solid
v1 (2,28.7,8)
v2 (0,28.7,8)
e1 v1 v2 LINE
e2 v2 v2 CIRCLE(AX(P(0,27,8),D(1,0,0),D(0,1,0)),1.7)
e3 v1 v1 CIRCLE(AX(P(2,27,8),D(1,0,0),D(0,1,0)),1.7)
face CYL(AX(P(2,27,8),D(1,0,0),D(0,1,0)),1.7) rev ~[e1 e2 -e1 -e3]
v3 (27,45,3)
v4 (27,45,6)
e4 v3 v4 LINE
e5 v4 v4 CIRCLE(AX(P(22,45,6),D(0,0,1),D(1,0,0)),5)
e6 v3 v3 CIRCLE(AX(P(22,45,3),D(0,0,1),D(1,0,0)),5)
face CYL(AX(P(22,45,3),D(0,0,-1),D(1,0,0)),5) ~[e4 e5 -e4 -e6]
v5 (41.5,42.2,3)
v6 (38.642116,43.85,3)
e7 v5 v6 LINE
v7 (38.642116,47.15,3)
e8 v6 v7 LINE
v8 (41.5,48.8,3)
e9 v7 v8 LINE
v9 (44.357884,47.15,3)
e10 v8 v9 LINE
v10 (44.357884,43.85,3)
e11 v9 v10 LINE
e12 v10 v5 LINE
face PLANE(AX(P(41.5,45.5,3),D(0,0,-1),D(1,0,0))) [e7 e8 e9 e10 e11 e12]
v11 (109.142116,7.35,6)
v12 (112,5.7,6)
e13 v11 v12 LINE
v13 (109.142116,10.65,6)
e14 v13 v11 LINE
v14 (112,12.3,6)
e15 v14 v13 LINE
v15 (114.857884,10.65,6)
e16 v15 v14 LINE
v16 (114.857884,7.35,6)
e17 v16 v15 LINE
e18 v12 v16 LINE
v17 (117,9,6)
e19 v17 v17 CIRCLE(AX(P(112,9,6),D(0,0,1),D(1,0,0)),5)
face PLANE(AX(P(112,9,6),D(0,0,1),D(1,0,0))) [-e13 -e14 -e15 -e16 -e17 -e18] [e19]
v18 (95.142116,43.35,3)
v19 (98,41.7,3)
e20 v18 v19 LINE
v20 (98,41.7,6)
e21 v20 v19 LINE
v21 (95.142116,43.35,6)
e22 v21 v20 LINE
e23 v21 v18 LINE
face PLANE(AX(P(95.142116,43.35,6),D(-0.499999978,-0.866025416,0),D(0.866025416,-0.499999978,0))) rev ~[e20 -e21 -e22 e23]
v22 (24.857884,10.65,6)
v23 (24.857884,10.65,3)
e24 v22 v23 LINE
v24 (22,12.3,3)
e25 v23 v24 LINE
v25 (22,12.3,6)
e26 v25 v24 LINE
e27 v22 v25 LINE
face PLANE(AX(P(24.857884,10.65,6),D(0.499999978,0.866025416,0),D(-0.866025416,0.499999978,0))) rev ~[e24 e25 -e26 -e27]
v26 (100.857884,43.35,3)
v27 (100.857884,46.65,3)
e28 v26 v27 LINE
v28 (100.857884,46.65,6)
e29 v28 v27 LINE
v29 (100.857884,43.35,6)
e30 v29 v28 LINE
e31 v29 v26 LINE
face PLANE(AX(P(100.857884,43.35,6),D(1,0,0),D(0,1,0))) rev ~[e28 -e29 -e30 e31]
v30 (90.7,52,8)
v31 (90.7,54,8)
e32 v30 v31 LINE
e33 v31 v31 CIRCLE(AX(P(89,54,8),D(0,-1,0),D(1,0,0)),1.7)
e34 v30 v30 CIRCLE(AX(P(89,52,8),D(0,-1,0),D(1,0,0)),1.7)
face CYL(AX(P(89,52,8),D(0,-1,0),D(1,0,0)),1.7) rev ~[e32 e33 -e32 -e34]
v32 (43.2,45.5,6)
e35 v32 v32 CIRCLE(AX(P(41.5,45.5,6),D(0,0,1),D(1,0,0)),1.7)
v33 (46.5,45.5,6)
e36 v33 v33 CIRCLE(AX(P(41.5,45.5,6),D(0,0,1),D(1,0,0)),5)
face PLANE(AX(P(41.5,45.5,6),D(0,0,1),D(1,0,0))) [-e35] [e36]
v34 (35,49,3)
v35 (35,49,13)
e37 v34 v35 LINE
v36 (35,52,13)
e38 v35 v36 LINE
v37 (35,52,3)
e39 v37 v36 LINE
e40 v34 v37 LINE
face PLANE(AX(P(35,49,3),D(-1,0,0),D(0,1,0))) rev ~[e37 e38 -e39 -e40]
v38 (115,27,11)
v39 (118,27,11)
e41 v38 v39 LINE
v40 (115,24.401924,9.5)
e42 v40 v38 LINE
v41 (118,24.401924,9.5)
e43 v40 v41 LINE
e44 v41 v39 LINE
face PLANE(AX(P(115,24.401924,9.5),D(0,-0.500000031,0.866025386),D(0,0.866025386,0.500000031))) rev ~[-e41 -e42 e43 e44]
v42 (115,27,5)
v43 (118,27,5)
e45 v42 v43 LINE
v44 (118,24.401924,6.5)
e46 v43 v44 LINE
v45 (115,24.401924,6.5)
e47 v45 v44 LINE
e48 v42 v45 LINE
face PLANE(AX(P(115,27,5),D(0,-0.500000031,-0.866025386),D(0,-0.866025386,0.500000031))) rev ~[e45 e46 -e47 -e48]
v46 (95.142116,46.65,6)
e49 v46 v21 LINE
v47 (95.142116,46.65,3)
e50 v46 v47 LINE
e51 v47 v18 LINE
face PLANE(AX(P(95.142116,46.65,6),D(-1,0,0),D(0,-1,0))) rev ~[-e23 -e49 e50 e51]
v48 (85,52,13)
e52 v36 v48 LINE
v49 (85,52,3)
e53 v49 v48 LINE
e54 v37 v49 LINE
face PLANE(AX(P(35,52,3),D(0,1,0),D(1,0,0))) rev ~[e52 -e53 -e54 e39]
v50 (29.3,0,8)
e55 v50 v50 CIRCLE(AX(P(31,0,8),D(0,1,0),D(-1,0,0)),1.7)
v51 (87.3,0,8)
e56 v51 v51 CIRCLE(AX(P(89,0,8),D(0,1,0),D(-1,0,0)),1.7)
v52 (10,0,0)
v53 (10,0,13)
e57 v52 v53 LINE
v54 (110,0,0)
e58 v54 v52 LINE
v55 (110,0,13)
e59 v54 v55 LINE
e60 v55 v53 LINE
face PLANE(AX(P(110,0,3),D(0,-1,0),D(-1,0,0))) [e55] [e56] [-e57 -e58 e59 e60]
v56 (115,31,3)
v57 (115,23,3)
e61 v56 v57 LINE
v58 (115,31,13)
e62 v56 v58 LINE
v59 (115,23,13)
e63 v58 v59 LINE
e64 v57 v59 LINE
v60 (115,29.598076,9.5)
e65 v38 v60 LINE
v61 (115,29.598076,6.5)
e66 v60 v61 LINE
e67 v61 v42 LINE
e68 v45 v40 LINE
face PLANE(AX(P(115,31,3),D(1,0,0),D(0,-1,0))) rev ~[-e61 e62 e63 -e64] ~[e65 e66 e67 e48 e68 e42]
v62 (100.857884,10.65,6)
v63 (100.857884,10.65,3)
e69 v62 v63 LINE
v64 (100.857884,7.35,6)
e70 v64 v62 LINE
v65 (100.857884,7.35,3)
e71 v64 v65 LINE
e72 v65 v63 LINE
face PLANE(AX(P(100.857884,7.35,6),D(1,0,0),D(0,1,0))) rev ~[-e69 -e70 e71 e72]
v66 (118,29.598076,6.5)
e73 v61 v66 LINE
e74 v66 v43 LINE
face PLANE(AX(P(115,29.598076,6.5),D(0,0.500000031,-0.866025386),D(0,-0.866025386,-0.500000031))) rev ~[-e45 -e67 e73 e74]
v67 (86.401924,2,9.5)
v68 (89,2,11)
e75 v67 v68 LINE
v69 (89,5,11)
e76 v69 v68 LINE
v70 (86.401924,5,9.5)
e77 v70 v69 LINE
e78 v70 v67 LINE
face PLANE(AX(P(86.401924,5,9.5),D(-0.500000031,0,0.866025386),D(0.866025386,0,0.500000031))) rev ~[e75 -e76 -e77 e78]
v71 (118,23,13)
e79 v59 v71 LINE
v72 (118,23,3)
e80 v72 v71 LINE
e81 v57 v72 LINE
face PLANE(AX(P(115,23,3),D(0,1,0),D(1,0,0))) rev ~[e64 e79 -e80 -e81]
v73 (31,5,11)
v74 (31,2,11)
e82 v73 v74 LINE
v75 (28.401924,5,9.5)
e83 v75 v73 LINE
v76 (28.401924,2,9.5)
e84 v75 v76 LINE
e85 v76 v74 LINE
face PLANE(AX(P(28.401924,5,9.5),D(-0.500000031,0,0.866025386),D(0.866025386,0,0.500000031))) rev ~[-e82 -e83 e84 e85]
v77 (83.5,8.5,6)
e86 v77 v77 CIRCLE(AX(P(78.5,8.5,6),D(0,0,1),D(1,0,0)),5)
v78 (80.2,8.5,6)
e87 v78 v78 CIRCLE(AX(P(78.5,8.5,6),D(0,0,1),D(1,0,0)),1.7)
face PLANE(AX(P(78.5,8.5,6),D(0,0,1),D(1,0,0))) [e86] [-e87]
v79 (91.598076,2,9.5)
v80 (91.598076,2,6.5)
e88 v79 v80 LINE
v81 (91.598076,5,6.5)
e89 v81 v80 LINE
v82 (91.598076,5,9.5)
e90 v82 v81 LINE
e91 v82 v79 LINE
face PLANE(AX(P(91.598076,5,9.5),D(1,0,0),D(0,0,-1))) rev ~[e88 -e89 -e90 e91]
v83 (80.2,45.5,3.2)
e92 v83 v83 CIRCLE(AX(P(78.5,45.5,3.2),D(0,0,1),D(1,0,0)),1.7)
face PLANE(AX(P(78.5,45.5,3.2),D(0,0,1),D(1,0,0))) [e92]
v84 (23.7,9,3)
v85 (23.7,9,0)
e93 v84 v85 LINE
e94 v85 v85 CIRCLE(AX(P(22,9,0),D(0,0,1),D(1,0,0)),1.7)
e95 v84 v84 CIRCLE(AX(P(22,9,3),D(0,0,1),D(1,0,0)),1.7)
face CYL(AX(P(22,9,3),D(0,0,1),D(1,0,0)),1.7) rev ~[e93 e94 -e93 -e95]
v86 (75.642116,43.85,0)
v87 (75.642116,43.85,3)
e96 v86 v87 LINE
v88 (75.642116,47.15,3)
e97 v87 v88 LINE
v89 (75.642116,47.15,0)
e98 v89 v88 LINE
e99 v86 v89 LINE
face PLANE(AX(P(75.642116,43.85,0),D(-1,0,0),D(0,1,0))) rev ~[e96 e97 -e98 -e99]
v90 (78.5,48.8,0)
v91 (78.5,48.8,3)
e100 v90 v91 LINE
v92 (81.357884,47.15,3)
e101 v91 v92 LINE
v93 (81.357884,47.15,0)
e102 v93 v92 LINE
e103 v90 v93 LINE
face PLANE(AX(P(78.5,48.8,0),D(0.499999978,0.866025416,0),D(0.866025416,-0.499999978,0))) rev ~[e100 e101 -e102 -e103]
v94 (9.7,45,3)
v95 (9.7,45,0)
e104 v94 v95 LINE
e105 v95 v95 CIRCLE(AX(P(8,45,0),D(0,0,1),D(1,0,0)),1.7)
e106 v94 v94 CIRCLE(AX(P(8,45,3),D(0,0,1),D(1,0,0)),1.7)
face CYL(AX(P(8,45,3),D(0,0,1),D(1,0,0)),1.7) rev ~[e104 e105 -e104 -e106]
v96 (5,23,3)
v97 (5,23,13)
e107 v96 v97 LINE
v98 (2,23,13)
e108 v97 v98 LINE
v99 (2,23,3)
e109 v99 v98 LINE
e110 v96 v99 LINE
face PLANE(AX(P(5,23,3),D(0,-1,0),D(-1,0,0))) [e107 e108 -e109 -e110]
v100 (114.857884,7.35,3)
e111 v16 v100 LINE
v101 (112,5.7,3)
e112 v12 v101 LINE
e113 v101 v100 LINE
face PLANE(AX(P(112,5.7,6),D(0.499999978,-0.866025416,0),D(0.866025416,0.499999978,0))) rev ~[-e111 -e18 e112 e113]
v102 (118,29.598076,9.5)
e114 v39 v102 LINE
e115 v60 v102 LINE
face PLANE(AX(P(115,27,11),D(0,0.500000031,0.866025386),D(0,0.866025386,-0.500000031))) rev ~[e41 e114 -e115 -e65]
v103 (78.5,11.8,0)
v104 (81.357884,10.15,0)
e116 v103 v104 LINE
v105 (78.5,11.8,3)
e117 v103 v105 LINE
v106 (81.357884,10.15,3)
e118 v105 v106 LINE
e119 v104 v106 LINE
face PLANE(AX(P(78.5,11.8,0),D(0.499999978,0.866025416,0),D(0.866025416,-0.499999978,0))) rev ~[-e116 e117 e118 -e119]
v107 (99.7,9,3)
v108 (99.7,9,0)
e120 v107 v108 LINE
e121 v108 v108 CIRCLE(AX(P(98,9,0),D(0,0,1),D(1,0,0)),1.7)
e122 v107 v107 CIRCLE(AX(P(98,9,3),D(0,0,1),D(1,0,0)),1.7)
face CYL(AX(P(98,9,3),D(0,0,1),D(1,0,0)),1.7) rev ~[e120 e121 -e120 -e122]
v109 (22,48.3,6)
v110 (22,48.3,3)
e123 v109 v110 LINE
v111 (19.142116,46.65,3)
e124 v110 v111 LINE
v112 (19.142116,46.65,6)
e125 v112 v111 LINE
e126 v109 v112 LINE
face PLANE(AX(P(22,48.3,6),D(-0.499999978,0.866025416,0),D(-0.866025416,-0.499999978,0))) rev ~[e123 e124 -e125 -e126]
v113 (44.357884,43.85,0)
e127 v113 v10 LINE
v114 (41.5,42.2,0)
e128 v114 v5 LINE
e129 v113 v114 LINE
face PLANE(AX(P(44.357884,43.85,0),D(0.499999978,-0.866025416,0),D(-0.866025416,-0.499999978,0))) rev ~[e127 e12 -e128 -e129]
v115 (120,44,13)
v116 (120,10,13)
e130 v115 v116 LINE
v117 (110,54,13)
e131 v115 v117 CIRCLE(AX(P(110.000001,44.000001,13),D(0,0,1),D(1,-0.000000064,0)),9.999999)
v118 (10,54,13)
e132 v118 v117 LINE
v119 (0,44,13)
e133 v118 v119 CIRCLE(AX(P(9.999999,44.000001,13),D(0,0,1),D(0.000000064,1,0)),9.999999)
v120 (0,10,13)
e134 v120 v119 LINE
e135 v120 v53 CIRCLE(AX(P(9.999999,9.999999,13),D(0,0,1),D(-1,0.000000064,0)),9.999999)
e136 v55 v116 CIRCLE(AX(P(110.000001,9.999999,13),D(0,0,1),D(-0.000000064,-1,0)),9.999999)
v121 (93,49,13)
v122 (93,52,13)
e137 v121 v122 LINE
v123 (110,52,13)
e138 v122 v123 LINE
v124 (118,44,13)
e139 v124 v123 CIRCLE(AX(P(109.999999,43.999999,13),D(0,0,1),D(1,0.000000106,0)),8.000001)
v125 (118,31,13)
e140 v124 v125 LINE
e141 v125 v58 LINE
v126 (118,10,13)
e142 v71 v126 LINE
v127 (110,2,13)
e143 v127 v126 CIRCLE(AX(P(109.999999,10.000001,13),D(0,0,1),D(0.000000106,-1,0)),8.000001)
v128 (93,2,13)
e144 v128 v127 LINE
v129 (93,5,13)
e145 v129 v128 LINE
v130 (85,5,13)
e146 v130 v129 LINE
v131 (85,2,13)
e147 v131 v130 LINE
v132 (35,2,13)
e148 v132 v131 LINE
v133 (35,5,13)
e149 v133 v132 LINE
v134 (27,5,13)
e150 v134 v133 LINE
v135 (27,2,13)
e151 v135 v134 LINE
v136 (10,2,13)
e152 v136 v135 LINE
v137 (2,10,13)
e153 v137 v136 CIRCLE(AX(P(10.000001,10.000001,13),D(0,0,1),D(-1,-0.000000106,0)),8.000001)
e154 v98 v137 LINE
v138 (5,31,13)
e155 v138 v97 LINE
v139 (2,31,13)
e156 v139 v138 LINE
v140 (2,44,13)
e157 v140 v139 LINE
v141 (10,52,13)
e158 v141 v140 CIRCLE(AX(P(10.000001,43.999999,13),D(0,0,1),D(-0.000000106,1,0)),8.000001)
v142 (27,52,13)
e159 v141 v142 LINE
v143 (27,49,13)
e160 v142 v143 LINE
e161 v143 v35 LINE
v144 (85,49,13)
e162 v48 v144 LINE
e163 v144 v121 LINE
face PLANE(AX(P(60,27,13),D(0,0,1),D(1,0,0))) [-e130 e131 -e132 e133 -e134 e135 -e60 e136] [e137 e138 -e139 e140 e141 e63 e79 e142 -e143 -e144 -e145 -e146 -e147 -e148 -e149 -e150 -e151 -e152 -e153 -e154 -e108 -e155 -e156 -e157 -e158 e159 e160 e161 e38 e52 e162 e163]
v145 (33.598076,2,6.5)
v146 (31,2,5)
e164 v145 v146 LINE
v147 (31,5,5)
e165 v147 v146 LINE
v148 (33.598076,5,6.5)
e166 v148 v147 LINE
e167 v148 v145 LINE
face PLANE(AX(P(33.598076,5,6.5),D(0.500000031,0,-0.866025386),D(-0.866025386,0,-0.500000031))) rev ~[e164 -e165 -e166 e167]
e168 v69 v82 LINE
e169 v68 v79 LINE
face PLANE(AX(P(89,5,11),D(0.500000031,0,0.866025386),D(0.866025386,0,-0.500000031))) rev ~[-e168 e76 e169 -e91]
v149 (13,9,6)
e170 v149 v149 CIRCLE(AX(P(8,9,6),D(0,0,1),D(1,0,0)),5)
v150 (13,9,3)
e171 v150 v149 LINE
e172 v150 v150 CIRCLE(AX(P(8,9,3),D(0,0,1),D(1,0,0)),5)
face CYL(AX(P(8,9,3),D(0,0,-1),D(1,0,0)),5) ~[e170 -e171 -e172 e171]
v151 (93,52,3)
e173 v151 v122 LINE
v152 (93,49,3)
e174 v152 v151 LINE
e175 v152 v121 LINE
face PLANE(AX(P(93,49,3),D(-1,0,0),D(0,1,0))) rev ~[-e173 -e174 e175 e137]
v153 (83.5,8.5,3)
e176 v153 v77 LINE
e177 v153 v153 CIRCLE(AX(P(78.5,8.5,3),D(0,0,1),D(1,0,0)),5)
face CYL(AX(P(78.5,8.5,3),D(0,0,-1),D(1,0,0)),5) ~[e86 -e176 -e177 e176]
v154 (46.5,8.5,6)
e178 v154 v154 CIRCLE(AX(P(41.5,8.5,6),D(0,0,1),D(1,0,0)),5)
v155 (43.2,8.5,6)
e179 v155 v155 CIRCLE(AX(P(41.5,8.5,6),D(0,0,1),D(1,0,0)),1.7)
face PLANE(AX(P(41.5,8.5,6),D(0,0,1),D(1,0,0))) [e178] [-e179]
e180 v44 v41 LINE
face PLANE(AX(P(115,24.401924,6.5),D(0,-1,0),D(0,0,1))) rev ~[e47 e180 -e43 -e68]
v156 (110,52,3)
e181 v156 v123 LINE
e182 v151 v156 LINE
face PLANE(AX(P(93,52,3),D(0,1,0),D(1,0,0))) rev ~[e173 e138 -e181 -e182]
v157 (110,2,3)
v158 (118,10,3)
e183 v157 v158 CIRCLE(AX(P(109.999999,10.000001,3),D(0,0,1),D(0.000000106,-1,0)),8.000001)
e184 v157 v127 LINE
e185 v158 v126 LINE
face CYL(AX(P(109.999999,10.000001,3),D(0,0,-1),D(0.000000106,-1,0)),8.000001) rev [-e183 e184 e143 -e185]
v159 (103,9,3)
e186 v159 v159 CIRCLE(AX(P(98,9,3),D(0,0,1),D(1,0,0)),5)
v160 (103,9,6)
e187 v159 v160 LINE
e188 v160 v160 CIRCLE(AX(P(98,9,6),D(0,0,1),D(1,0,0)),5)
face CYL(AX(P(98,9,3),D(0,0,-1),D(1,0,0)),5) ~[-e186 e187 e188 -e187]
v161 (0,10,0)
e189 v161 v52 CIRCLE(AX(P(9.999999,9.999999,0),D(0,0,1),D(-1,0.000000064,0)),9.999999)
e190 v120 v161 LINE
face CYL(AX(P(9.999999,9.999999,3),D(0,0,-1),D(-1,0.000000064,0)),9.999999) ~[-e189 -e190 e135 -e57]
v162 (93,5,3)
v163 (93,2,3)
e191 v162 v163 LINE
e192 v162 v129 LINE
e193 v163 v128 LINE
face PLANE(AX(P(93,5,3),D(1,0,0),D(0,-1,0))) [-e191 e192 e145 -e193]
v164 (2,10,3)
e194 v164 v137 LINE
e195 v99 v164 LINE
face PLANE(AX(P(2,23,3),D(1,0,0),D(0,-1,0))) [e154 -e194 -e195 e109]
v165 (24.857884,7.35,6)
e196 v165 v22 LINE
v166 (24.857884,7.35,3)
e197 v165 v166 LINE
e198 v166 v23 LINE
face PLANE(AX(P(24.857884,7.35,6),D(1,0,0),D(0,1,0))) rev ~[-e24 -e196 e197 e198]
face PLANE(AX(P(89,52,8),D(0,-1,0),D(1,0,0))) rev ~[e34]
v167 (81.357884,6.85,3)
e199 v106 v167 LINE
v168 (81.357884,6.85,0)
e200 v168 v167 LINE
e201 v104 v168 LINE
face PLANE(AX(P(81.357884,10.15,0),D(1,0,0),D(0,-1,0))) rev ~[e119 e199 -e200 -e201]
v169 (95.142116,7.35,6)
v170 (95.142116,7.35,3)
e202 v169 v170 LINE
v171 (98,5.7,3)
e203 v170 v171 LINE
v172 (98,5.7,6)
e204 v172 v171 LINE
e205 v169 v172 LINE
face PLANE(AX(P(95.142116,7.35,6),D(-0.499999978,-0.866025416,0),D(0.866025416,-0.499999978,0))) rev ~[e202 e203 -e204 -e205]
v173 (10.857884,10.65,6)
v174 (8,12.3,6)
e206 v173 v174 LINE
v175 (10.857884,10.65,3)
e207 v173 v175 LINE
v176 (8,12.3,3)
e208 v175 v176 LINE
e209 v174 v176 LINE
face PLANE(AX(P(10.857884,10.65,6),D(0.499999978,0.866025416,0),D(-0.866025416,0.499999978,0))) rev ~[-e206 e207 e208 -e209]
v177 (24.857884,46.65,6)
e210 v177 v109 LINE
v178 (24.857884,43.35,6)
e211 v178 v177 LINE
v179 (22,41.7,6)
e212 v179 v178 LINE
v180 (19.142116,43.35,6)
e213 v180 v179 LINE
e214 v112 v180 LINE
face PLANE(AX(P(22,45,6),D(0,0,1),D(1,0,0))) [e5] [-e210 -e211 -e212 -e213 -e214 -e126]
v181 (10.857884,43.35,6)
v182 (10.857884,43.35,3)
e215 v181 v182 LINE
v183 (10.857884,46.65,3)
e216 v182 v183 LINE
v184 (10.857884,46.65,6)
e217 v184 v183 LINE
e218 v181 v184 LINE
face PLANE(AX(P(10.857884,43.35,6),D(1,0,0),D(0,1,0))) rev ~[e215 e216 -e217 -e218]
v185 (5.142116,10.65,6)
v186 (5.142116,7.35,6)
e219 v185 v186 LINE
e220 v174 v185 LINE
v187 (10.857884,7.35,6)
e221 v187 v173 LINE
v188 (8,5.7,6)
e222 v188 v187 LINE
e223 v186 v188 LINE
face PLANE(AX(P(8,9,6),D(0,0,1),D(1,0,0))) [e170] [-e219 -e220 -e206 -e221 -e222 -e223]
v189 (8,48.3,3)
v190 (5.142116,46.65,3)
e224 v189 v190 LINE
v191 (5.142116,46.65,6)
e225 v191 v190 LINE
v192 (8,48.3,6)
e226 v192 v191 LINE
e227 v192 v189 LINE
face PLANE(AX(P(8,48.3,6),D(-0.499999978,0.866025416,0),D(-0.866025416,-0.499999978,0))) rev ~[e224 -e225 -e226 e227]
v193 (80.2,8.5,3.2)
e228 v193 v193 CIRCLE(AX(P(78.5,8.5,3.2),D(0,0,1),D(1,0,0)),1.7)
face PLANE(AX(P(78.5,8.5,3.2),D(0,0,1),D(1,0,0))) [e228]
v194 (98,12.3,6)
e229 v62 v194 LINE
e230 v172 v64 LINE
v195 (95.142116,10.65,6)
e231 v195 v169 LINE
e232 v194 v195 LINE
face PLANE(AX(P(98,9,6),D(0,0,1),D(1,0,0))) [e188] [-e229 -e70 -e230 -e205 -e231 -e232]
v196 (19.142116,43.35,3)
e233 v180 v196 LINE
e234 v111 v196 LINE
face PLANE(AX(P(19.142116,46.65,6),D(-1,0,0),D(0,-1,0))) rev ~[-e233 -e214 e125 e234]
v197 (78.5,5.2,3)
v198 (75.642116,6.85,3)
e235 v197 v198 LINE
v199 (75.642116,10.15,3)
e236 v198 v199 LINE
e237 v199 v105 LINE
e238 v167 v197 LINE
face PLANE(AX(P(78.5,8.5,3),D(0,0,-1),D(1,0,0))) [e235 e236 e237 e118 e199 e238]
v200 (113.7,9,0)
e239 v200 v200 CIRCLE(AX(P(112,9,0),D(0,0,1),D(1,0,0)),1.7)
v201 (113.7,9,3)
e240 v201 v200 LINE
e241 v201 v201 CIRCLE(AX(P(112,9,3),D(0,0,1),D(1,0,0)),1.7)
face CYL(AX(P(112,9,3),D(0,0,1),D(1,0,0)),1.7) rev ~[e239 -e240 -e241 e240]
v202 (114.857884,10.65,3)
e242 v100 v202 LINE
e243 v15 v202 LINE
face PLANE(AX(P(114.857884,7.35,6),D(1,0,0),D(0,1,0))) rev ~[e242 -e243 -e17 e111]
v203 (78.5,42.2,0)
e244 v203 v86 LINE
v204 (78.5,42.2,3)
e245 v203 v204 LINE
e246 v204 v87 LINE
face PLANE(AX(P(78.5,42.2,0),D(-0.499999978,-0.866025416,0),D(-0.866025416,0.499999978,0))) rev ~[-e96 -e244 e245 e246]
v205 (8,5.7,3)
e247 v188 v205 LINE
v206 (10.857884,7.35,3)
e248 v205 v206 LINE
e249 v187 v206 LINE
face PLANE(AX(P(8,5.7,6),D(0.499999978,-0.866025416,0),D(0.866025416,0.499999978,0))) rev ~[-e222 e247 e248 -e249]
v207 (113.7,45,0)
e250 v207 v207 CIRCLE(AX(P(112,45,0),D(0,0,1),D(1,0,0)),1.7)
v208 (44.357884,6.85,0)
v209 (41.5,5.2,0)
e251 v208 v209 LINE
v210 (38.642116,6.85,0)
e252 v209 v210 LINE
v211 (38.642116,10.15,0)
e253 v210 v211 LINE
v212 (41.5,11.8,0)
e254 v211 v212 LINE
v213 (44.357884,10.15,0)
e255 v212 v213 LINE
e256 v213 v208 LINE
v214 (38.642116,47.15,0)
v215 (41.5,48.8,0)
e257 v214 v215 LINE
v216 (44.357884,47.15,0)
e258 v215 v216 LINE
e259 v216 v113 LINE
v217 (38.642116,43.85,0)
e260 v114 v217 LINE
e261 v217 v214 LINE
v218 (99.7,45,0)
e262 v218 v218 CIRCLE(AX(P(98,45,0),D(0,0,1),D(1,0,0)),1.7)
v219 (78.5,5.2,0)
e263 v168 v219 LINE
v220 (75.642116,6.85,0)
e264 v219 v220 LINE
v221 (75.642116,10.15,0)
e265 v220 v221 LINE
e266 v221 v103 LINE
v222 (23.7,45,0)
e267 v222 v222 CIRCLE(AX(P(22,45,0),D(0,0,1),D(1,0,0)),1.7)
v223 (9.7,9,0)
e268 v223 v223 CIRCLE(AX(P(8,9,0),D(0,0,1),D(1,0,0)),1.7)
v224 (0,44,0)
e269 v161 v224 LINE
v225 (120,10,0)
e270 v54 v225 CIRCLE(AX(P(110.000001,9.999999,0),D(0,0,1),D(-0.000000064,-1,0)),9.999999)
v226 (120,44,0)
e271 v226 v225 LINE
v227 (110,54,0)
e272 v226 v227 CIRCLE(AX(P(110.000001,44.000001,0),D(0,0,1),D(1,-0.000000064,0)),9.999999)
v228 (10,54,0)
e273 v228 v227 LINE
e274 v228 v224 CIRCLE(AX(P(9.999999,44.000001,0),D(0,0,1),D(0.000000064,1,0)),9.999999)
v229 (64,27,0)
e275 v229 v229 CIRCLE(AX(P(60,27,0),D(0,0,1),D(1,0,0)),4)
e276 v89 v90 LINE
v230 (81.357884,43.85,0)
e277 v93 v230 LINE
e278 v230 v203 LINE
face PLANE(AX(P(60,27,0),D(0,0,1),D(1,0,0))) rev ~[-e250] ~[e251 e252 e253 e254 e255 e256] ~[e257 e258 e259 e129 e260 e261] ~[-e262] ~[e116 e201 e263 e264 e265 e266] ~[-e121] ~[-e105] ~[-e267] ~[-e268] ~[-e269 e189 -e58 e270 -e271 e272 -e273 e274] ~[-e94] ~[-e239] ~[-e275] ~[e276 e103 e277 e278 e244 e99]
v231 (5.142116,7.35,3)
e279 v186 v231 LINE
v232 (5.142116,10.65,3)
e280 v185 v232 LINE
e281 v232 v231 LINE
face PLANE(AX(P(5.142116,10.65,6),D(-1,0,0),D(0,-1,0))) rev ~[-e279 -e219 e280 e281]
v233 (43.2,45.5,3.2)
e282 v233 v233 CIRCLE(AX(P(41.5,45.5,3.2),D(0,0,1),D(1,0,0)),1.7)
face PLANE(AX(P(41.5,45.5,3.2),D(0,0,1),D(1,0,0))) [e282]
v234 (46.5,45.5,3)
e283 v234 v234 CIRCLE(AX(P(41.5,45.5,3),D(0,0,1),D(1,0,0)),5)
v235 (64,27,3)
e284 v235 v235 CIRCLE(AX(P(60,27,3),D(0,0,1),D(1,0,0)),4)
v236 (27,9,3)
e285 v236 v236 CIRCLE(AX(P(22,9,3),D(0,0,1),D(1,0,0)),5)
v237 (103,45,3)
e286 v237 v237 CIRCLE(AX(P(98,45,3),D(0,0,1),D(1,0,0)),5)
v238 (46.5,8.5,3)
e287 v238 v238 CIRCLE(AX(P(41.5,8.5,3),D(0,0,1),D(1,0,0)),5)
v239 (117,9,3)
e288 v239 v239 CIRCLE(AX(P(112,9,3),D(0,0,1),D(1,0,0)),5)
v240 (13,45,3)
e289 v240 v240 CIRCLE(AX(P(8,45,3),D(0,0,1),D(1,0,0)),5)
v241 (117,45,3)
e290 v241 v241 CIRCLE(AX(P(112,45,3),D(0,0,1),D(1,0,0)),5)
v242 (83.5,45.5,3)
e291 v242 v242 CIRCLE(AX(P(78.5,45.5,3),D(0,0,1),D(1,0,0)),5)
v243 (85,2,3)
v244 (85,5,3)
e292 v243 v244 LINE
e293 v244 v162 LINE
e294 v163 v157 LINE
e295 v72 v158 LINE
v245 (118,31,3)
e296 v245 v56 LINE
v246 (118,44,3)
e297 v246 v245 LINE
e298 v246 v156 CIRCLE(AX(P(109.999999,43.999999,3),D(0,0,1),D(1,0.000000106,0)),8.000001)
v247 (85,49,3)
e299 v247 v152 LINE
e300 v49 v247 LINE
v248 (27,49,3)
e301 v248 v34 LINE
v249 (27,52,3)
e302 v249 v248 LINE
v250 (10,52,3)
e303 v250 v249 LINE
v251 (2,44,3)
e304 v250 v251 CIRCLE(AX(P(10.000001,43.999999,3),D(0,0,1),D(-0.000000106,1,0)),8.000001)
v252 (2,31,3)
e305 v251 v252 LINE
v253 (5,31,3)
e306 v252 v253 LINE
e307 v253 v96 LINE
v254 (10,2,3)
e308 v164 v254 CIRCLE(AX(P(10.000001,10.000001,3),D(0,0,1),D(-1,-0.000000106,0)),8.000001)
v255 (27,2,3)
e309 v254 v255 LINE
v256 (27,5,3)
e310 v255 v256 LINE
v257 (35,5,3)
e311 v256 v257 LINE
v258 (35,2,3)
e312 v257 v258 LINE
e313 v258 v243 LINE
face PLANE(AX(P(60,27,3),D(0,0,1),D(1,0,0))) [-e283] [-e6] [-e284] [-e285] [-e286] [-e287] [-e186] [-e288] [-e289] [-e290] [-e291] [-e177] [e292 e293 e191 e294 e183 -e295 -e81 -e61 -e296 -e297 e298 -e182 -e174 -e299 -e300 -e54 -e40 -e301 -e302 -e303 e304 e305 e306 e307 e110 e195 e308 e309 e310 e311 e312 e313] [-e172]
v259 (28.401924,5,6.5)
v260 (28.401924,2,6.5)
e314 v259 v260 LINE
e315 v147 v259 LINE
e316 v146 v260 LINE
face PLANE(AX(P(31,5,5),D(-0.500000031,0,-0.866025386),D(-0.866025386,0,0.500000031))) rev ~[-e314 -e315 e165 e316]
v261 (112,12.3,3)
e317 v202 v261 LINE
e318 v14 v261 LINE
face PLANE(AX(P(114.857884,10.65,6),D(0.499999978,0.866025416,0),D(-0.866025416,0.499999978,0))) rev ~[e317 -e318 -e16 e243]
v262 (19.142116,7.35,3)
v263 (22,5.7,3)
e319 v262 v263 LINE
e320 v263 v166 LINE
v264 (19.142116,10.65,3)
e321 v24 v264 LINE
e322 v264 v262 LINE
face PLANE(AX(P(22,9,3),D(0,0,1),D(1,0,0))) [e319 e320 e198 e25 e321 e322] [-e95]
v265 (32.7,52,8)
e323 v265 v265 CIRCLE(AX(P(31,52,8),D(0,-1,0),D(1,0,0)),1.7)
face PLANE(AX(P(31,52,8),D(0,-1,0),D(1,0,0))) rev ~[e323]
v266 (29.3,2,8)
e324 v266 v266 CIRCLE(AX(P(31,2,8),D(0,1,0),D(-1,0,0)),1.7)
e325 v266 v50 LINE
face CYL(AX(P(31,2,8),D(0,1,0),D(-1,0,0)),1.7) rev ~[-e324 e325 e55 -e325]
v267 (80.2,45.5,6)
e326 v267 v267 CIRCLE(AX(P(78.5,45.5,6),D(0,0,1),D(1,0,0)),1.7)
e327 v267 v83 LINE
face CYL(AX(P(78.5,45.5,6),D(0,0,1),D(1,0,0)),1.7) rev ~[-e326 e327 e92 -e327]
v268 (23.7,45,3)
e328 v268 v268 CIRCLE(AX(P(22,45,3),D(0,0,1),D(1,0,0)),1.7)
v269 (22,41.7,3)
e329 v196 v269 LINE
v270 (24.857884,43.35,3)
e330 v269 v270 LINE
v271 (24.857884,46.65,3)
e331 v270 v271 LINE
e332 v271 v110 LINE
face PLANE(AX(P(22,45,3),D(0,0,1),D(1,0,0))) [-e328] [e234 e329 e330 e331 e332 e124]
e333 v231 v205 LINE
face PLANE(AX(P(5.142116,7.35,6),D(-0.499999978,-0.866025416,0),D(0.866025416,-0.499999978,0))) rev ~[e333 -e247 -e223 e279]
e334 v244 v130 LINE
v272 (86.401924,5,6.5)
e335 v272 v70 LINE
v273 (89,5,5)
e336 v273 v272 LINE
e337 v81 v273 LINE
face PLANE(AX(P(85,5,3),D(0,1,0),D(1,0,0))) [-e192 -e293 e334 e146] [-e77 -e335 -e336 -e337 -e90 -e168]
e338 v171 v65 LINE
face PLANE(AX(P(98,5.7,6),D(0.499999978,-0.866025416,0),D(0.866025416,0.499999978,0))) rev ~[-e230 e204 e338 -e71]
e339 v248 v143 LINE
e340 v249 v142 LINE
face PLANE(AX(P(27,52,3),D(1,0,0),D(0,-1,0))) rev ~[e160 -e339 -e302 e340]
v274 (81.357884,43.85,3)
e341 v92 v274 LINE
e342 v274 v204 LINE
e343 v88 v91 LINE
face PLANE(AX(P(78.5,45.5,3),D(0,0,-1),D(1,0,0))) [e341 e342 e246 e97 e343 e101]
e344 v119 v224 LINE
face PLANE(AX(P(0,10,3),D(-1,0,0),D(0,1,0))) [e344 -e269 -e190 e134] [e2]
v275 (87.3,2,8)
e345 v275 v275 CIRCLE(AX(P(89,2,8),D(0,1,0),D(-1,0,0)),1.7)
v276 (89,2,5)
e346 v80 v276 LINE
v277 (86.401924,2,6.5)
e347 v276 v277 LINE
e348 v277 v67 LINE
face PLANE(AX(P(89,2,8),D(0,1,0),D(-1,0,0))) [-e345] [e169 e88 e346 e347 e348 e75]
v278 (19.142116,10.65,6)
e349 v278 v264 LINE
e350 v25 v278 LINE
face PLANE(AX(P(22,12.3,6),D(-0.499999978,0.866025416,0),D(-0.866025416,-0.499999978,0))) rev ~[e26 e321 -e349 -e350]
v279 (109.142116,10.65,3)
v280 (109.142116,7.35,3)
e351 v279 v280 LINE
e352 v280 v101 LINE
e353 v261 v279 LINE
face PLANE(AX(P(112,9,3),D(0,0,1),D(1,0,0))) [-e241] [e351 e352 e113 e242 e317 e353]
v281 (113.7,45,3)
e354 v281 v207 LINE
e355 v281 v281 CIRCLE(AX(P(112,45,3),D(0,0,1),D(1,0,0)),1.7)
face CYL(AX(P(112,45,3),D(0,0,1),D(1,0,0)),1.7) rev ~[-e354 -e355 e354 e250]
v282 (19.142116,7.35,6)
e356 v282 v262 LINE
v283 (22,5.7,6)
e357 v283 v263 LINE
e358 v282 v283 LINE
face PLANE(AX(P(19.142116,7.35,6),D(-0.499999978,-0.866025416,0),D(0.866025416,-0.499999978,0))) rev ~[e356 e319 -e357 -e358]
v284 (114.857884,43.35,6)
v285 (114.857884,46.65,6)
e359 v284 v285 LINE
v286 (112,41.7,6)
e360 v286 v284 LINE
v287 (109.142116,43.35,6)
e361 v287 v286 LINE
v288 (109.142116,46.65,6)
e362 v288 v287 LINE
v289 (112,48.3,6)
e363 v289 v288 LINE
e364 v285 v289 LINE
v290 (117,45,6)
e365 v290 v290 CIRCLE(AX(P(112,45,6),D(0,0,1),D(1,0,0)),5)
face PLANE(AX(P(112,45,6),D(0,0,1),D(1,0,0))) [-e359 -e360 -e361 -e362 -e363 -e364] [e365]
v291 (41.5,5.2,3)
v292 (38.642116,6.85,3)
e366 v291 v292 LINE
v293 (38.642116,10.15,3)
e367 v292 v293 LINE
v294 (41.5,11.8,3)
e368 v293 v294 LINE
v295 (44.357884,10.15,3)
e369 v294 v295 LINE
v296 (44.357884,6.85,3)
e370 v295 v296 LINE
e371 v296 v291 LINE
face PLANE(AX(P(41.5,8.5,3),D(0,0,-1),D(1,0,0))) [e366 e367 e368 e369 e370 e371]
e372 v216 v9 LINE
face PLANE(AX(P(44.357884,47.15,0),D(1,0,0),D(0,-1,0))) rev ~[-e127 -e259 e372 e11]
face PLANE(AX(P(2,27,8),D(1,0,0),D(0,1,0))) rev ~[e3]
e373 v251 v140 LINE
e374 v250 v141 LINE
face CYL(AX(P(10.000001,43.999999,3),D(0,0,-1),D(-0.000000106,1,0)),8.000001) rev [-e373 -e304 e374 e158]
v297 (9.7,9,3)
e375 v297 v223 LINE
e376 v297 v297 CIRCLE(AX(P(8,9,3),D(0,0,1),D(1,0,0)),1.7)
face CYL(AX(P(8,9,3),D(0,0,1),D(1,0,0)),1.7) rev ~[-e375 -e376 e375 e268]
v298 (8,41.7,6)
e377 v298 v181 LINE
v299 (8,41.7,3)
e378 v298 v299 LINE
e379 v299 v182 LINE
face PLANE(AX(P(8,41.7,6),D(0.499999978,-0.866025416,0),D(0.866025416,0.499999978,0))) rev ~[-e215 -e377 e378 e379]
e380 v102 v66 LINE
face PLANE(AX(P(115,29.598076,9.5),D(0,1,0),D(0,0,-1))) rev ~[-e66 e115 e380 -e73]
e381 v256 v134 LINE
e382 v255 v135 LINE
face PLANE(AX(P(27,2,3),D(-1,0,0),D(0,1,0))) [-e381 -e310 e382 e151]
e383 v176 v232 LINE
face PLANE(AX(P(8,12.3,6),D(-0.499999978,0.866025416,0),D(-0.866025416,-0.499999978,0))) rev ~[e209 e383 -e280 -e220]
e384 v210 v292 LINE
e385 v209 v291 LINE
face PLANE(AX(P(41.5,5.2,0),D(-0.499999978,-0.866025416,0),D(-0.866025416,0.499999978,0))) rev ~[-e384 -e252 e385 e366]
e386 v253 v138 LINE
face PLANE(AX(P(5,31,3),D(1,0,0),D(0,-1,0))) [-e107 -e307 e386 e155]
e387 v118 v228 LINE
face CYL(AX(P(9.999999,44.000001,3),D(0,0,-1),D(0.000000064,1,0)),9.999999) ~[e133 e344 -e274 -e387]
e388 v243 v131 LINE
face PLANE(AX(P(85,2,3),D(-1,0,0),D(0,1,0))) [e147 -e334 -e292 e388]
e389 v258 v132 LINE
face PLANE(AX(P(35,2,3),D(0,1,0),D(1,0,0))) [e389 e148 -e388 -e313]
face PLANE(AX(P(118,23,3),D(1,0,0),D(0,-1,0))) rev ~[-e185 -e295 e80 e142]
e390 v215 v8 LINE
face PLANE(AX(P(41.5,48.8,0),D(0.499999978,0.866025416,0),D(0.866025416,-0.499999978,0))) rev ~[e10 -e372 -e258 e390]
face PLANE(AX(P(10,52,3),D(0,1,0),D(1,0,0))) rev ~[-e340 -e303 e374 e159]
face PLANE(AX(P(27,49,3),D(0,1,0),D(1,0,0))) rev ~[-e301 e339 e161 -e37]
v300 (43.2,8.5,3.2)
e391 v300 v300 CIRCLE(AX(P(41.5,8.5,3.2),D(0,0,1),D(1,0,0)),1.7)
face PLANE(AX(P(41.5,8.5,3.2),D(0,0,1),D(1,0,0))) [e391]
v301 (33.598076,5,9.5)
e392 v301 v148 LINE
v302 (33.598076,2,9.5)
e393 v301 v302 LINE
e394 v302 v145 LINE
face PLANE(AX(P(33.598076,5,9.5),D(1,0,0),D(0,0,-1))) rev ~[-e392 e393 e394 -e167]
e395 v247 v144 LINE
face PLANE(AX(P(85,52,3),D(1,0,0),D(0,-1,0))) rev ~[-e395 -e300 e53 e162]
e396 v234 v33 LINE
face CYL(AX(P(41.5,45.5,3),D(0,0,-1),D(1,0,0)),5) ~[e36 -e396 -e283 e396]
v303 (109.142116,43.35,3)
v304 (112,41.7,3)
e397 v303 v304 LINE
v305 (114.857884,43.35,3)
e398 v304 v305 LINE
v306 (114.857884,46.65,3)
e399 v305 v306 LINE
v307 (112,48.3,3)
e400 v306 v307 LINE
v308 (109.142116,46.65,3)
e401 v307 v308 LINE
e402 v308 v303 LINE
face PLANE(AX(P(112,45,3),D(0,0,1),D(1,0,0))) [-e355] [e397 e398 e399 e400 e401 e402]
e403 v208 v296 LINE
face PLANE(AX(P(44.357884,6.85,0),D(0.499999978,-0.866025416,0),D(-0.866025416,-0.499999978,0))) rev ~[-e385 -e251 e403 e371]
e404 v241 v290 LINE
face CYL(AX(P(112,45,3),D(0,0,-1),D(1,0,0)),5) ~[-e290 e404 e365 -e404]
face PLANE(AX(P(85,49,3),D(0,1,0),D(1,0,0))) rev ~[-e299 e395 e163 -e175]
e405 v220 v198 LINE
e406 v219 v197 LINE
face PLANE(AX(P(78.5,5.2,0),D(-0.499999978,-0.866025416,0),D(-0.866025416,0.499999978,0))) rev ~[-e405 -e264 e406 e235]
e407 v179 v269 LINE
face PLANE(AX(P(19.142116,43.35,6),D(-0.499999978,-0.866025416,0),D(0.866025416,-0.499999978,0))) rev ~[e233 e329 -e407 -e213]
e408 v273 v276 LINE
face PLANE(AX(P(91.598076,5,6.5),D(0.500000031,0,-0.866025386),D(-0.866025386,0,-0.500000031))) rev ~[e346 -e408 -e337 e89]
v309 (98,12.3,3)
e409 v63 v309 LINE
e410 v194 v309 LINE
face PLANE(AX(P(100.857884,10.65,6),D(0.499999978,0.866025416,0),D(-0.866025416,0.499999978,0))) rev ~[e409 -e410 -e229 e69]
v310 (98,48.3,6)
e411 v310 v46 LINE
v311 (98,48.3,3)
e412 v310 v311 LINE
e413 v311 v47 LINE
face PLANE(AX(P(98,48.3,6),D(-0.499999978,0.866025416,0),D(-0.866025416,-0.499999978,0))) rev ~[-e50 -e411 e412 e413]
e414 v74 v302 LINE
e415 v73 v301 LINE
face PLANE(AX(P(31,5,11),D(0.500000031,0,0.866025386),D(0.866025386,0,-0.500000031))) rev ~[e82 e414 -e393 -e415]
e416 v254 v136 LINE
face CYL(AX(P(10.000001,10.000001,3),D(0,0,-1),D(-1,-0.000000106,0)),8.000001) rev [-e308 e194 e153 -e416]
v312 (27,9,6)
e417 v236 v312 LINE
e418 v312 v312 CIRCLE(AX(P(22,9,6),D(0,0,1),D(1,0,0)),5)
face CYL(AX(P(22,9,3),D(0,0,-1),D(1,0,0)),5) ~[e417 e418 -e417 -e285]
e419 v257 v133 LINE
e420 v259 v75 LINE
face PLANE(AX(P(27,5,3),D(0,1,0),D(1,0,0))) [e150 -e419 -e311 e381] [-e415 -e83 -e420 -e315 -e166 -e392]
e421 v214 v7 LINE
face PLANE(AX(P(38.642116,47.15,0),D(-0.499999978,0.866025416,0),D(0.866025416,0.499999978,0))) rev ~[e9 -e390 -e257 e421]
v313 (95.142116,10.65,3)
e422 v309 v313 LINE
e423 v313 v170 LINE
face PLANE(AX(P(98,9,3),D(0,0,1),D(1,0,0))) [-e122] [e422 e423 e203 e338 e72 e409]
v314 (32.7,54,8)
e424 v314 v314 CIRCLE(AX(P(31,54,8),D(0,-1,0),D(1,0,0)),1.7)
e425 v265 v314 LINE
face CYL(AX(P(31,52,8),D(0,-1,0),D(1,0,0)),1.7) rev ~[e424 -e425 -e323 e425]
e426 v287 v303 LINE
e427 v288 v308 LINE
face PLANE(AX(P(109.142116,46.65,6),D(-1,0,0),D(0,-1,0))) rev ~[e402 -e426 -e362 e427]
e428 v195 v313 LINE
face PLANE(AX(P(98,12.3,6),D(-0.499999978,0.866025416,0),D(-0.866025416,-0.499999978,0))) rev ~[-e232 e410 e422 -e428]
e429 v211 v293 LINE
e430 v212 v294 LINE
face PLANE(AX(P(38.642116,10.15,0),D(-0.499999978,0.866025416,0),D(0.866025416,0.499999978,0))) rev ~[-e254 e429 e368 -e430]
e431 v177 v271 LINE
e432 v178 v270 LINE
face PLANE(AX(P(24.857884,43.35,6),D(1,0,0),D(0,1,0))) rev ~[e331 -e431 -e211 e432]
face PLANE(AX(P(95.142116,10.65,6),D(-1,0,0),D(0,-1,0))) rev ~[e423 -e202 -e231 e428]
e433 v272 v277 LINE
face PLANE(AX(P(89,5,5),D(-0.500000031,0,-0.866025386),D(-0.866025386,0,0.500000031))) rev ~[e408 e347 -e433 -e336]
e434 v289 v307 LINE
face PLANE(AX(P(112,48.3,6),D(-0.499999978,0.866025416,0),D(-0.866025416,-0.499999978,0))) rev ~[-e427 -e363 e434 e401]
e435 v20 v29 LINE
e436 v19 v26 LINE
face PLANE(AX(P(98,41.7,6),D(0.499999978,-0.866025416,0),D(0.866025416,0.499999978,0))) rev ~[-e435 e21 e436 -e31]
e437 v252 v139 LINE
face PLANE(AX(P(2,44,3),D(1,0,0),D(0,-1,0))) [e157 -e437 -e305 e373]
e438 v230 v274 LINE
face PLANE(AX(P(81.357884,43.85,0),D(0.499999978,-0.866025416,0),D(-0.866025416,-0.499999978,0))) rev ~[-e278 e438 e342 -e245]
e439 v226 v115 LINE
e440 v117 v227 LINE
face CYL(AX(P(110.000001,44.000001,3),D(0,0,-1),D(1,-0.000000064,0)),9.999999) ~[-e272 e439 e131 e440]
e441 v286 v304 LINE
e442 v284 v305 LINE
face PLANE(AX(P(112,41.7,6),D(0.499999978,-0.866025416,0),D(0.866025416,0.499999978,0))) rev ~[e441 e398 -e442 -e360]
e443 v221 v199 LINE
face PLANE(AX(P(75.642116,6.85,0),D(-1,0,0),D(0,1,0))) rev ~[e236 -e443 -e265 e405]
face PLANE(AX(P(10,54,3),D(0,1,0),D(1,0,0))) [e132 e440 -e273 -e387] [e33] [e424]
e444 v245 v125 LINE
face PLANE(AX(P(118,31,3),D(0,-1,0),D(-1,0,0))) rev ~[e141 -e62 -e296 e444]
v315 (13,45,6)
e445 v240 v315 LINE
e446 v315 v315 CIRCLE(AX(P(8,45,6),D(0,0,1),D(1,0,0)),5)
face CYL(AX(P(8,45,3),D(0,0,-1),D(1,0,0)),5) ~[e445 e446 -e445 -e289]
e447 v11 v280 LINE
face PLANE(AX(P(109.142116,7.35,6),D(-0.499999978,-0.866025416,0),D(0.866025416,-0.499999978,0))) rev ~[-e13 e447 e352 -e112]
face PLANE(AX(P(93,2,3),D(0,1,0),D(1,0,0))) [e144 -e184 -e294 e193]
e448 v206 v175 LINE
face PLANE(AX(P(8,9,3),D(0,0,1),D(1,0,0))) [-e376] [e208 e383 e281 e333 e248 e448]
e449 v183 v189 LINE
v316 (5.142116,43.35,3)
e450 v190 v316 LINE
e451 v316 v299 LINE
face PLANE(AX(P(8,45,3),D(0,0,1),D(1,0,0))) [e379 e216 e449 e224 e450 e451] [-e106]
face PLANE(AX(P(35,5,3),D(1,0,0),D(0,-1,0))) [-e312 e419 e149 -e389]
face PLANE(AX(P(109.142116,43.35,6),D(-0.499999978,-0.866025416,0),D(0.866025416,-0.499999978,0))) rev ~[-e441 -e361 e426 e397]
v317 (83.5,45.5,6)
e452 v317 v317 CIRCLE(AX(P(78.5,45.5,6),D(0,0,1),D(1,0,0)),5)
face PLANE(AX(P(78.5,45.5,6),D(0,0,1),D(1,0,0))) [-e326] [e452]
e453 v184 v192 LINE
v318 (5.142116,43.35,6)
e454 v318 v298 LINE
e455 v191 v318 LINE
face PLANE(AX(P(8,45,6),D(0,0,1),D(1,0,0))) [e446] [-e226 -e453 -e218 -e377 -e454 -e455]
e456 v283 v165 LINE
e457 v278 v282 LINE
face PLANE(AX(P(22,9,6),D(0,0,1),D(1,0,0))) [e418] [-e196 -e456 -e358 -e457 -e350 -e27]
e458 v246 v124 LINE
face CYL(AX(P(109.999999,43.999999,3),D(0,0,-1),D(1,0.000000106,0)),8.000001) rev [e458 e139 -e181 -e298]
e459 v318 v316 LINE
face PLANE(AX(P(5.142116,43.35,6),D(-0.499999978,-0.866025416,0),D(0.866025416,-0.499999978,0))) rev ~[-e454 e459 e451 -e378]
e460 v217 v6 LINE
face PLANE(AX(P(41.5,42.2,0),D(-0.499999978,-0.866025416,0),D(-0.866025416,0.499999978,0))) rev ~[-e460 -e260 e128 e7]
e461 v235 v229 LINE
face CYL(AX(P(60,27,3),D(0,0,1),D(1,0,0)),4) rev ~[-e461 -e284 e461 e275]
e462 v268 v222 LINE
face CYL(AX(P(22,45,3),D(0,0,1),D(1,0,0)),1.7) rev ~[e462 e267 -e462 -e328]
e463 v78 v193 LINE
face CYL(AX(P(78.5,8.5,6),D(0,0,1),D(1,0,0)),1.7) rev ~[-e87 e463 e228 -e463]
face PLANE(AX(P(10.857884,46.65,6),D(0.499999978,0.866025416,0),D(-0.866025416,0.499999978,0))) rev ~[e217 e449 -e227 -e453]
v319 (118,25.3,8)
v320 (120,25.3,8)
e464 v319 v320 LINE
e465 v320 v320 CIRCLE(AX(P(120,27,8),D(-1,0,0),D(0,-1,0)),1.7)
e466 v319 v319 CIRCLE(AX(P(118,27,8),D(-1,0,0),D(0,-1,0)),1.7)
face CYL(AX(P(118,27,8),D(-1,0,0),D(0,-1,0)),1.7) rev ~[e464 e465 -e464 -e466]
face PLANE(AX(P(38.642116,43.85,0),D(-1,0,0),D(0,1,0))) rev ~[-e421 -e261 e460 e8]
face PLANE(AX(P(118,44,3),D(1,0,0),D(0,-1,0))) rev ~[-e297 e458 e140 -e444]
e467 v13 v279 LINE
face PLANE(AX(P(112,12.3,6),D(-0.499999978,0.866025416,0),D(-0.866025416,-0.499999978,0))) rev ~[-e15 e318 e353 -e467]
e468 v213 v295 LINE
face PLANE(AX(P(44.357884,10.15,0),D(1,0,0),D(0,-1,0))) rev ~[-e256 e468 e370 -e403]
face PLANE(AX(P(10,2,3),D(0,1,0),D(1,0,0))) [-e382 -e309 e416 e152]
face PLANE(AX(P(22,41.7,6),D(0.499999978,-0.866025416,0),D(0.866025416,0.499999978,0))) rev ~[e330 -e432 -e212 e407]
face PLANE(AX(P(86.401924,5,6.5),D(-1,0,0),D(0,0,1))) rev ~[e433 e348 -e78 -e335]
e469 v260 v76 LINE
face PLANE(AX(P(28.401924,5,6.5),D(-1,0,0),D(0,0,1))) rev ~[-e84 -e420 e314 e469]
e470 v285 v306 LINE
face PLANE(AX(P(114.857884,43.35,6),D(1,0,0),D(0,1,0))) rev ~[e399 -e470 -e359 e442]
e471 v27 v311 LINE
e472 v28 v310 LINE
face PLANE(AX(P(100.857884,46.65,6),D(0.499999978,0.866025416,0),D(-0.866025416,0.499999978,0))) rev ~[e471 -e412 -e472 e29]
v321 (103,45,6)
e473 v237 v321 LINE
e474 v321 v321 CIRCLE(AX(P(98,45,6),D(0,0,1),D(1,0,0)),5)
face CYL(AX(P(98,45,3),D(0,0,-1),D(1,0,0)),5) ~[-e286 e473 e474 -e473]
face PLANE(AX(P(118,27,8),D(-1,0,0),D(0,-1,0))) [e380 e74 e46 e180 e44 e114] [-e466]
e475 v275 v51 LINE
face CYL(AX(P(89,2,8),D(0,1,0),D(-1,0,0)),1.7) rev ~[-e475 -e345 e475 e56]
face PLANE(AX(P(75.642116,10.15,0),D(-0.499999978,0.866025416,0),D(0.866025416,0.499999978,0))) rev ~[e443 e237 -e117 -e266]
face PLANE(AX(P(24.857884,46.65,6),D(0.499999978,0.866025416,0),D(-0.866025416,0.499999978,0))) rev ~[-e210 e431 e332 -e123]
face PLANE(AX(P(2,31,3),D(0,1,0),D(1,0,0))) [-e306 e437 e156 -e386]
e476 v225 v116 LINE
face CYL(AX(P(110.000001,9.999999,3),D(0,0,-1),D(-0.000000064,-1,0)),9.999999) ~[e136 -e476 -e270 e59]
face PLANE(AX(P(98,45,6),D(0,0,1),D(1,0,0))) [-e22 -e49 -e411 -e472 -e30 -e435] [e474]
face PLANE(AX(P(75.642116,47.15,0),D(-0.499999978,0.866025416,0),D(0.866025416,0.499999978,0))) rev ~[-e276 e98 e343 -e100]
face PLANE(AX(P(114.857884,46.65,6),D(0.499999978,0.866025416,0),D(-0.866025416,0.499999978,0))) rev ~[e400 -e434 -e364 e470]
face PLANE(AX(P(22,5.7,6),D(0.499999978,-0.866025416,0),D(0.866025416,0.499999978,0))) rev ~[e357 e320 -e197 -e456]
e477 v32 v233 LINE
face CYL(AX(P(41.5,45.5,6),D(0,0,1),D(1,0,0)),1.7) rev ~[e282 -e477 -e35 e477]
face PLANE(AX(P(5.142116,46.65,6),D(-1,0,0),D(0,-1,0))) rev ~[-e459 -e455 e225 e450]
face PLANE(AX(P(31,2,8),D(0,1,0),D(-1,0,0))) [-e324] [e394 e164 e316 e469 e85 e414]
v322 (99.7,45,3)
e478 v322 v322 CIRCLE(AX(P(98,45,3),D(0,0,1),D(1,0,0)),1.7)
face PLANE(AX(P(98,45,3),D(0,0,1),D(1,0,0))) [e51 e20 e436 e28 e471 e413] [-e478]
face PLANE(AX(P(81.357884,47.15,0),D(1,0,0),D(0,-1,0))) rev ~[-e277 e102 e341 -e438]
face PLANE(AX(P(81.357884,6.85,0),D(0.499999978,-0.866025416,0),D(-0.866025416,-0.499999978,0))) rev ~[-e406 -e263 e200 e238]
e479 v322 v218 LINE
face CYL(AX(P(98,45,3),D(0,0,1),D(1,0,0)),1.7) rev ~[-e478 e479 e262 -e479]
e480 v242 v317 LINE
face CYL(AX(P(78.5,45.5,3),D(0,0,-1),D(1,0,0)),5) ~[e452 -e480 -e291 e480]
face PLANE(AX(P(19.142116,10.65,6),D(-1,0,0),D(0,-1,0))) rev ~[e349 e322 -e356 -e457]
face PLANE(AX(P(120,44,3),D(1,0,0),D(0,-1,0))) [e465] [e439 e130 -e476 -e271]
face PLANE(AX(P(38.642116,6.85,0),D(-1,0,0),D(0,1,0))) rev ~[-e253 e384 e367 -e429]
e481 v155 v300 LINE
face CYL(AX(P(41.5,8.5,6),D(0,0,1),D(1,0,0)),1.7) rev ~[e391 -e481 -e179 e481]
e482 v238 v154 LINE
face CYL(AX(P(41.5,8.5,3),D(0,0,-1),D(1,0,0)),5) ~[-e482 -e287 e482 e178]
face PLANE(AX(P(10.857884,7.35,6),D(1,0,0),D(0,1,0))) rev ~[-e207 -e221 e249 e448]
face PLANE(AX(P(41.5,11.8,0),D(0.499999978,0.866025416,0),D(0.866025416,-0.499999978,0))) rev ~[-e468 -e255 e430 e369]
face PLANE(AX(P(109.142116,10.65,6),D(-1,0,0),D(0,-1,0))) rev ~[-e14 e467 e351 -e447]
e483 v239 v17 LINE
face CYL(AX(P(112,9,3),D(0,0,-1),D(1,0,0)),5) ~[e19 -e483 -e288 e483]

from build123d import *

# Parameters (mm, degrees)
PAD_DEPTH       = 3
PAD001_DEPTH    = 10
SKETCH002_R     = 5
PAD002_DEPTH    = 3
POCKET_DEPTH    = 3
SKETCH004_R     = 1.7
POCKET001_DEPTH = 3
SKETCH005_R     = 5
PAD003_DEPTH    = 3
SKETCH006_R     = 1.7
POCKET002_DEPTH = 2.8
POCKET003_DEPTH = 3
SKETCH008_R     = 4
POCKET004_DEPTH = 3
POCKET005_DEPTH = 3
SKETCH010_R     = 1.7
POCKET006_DEPTH = 3
POCKET007_DEPTH = 3
SKETCH012_R     = 1.7
POCKET008_DEPTH = 3
POCKET009_DEPTH = 3
SKETCH014_R     = 1.7
POCKET010_DEPTH = 3
POCKET011_DEPTH = 3
SKETCH016_R     = 1.7
POCKET012_DEPTH = 3


with BuildPart() as part:
    # Sketch → Pad (new body)
    with BuildSketch(Plane.XY):
        with BuildLine():
            ThreePointArc((0, 10), (2.928932, 2.928932), (10, 0))
            Line((110, 0), (10, 0))
            ThreePointArc((110, 0), (117.071068, 2.928932), (120, 10))
            Line((120, 44), (120, 10))
            ThreePointArc((120, 44), (117.071068, 51.071068), (110, 54))
            Line((10, 54), (110, 54))
            ThreePointArc((10, 54), (2.928932, 51.071068), (0, 44))
            Line((0, 10), (0, 44))
        make_face()
    extrude(amount=PAD_DEPTH)

    # Sketch001 → Pad001 (new body)
    with BuildSketch(Plane.XY.offset(3)):
        with BuildLine():
            ThreePointArc((0, 10), (2.928932, 2.928932), (10, 0))
            Line((110, 0), (10, 0))
            ThreePointArc((110, 0), (117.071068, 2.928932), (120, 10))
            Line((120, 44), (120, 10))
            ThreePointArc((120, 44), (117.071068, 51.071068), (110, 54))
            Line((10, 54), (110, 54))
            ThreePointArc((10, 54), (2.928932, 51.071068), (0, 44))
            Line((0, 10), (0, 44))
        make_face()
        with BuildLine():
            ThreePointArc((10, 52), (4.343146, 49.656854), (2, 44))
            Line((2, 44), (2, 31))
            Line((2, 31), (5, 31))
            Line((5, 31), (5, 23))
            Line((5, 23), (2, 23))
            Line((2, 23), (2, 10))
            ThreePointArc((2, 10), (4.343146, 4.343146), (10, 2))
            Line((10, 2), (27, 2))
            Line((27, 2), (27, 5))
            Line((27, 5), (35, 5))
            Line((35, 5), (35, 2))
            Line((35, 2), (85, 2))
            Line((85, 2), (85, 5))
            Line((85, 5), (93, 5))
            Line((93, 5), (93, 2))
            Line((93, 2), (110, 2))
            ThreePointArc((110, 2), (115.656854, 4.343146), (118, 10))
            Line((118, 23), (118, 10))
            Line((115, 23), (118, 23))
            Line((115, 31), (115, 23))
            Line((118, 31), (115, 31))
            Line((118, 44), (118, 31))
            ThreePointArc((118, 44), (115.656854, 49.656854), (110, 52))
            Line((93, 52), (110, 52))
            Line((93, 49), (93, 52))
            Line((85, 49), (93, 49))
            Line((85, 52), (85, 49))
            Line((35, 52), (85, 52))
            Line((35, 49), (35, 52))
            Line((27, 49), (35, 49))
            Line((27, 52), (27, 49))
            Line((10, 52), (27, 52))
        make_face(mode=Mode.SUBTRACT)
    extrude(amount=PAD001_DEPTH)

    # Sketch002 → Pad002 (new body)
    with BuildSketch(Plane.XY.offset(3)):
        with Locations((8, 45)):
            Circle(SKETCH002_R)
        with Locations((22, 45)):
            Circle(SKETCH002_R)
        with Locations((8, 9)):
            Circle(SKETCH002_R)
        with Locations((22, 9)):
            Circle(SKETCH002_R)
        with Locations((98, 45)):
            Circle(SKETCH002_R)
        with Locations((112, 45)):
            Circle(SKETCH002_R)
        with Locations((98, 9)):
            Circle(SKETCH002_R)
        with Locations((112, 9)):
            Circle(SKETCH002_R)
    extrude(amount=PAD002_DEPTH)

    # Sketch003 → Pocket (cut)
    with BuildSketch(Plane.XY.offset(6)):
        Polygon((10.857884, 43.35), (10.857884, 46.65), (8, 48.3), (5.142116, 46.65), (5.142116, 43.35), (8, 41.7), align=None)
        Polygon((24.857884, 43.35), (24.857884, 46.65), (22, 48.3), (19.142116, 46.65), (19.142116, 43.35), (22, 41.7), align=None)
        Polygon((10.857884, 7.35), (10.857884, 10.65), (8, 12.3), (5.142116, 10.65), (5.142116, 7.35), (8, 5.7), align=None)
        Polygon((22, 5.7), (24.857884, 7.35), (24.857884, 10.65), (22, 12.3), (19.142116, 10.65), (19.142116, 7.35), align=None)
        Polygon((95.142116, 46.65), (95.142116, 43.35), (98, 41.7), (100.857884, 43.35), (100.857884, 46.65), (98, 48.3), align=None)
        Polygon((109.142116, 43.35), (112, 41.7), (114.857884, 43.35), (114.857884, 46.65), (112, 48.3), (109.142116, 46.65), align=None)
        Polygon((112, 5.7), (114.857884, 7.35), (114.857884, 10.65), (112, 12.3), (109.142116, 10.65), (109.142116, 7.35), align=None)
        Polygon((95.142116, 7.35), (98, 5.7), (100.857884, 7.35), (100.857884, 10.65), (98, 12.3), (95.142116, 10.65), align=None)
    extrude(amount=-POCKET_DEPTH, mode=Mode.SUBTRACT)

    # Sketch004 → Pocket001 (cut)
    with BuildSketch(Plane.XY.offset(3)):
        with Locations((8, 45)):
            Circle(SKETCH004_R)
        with Locations((22, 45)):
            Circle(SKETCH004_R)
        with Locations((8, 9)):
            Circle(SKETCH004_R)
        with Locations((22, 9)):
            Circle(SKETCH004_R)
        with Locations((98, 45)):
            Circle(SKETCH004_R)
        with Locations((112, 45)):
            Circle(SKETCH004_R)
        with Locations((98, 9)):
            Circle(SKETCH004_R)
        with Locations((112, 9)):
            Circle(SKETCH004_R)
    extrude(amount=-POCKET001_DEPTH, mode=Mode.SUBTRACT)

    # Sketch005 → Pad003 (new body)
    with BuildSketch(Plane.XY.offset(3)):
        with Locations((41.5, 45.5)):
            Circle(SKETCH005_R)
        with Locations((78.5, 45.5)):
            Circle(SKETCH005_R)
        with Locations((78.5, 8.5)):
            Circle(SKETCH005_R)
        with Locations((41.5, 8.5)):
            Circle(SKETCH005_R)
    extrude(amount=PAD003_DEPTH)

    # Sketch006 → Pocket002 (cut)
    with BuildSketch(Plane.XY.offset(6)):
        with Locations((41.5, 45.5)):
            Circle(SKETCH006_R)
        with Locations((78.5, 45.5)):
            Circle(SKETCH006_R)
        with Locations((78.5, 8.5)):
            Circle(SKETCH006_R)
        with Locations((41.5, 8.5)):
            Circle(SKETCH006_R)
    extrude(amount=-POCKET002_DEPTH, mode=Mode.SUBTRACT)

    # Sketch007 → Pocket003 (cut)
    with BuildSketch(Plane(origin=(0, 0, 0), x_dir=(1, 0, 0), z_dir=(0, 0, -1))):
        Polygon((44.357884, -10.15), (44.357884, -6.85), (41.5, -5.2), (38.642116, -6.85), (38.642116, -10.15), (41.5, -11.8), align=None)
        Polygon((81.357884, -10.15), (81.357884, -6.85), (78.5, -5.2), (75.642116, -6.85), (75.642116, -10.15), (78.5, -11.8), align=None)
        Polygon((81.357884, -43.85), (78.5, -42.2), (75.642116, -43.85), (75.642116, -47.15), (78.5, -48.8), (81.357884, -47.15), align=None)
        Polygon((44.357884, -43.85), (41.5, -42.2), (38.642116, -43.85), (38.642116, -47.15), (41.5, -48.8), (44.357884, -47.15), align=None)
    extrude(amount=-POCKET003_DEPTH, mode=Mode.SUBTRACT)

    # Sketch008 → Pocket004 (cut)
    with BuildSketch(Plane.XY.offset(3)):
        with Locations((60, 27)):
            Circle(SKETCH008_R)
    extrude(amount=-POCKET004_DEPTH, mode=Mode.SUBTRACT)

    # Sketch009 → Pocket005 (cut)
    with BuildSketch(Plane(origin=(0, 31, 0), x_dir=(-1, 0, 0), z_dir=(0, 1, 0))):
        Polygon((33.598076, 9.5), (31, 11), (28.401924, 9.5), (28.401924, 6.5), (31, 5), (33.598076, 6.5), align=None)
        Polygon((91.598076, 9.5), (89, 11), (86.401924, 9.5), (86.401924, 6.5), (89, 5), (91.598076, 6.5), align=None)
    extrude(amount=-POCKET005_DEPTH, mode=Mode.SUBTRACT)

    # Sketch010 → Pocket006 (cut)
    with BuildSketch(Plane.XZ.offset(-52)):
        with Locations((31, 8)):
            Circle(SKETCH010_R)
        with Locations((89, 8)):
            Circle(SKETCH010_R)
    extrude(amount=-POCKET006_DEPTH, mode=Mode.SUBTRACT)

    # Sketch011 → Pocket007 (cut)
    with BuildSketch(Plane(origin=(0, 5, 0), x_dir=(-1, 0, 0), z_dir=(0, 1, 0))):
        Polygon((-86.401924, 9.5), (-89, 11), (-91.598076, 9.5), (-91.598076, 6.5), (-89, 5), (-86.401924, 6.5), align=None)
        Polygon((-28.401924, 9.5), (-31, 11), (-33.598076, 9.5), (-33.598076, 6.5), (-31, 5), (-28.401924, 6.5), align=None)
    extrude(amount=-POCKET007_DEPTH, mode=Mode.SUBTRACT)

    # Sketch012 → Pocket008 (cut)
    with BuildSketch(Plane(origin=(0, 2, 0), x_dir=(-1, 0, 0), z_dir=(0, 1, 0))):
        with Locations((-89, 8)):
            Circle(SKETCH012_R)
        with Locations((-31, 8)):
            Circle(SKETCH012_R)
    extrude(amount=-POCKET008_DEPTH, mode=Mode.SUBTRACT)

    # Sketch013 → Pocket009 (cut)
    with BuildSketch(Plane(origin=(115, 0, 0), x_dir=(0, -1, 0), z_dir=(-1, 0, 0))):
        Polygon((-24.401924, 6.5), (-24.401924, 9.5), (-27, 11), (-29.598076, 9.5), (-29.598076, 6.5), (-27, 5), align=None)
    extrude(amount=-POCKET009_DEPTH, mode=Mode.SUBTRACT)

    # Sketch014 → Pocket010 (cut)
    with BuildSketch(Plane(origin=(118, 0, 0), x_dir=(0, -1, 0), z_dir=(-1, 0, 0))):
        with Locations((-27, 8)):
            Circle(SKETCH014_R)
    extrude(amount=-POCKET010_DEPTH, mode=Mode.SUBTRACT)

    # Sketch015 → Pocket011 (cut)
    with BuildSketch(Plane(origin=(85, 0, 0), x_dir=(0, -1, 0), z_dir=(-1, 0, 0))):
        Polygon((29.598076, 6.5), (29.598076, 9.5), (27, 11), (24.401924, 9.5), (24.401924, 6.5), (27, 5), align=None)
    extrude(amount=-POCKET011_DEPTH, mode=Mode.SUBTRACT)

    # Sketch016 → Pocket012 (cut)
    with BuildSketch(Plane.YZ.offset(2)):
        with Locations((27, 8)):
            Circle(SKETCH016_R)
    extrude(amount=-POCKET012_DEPTH, mode=Mode.SUBTRACT)


solid = part.part
